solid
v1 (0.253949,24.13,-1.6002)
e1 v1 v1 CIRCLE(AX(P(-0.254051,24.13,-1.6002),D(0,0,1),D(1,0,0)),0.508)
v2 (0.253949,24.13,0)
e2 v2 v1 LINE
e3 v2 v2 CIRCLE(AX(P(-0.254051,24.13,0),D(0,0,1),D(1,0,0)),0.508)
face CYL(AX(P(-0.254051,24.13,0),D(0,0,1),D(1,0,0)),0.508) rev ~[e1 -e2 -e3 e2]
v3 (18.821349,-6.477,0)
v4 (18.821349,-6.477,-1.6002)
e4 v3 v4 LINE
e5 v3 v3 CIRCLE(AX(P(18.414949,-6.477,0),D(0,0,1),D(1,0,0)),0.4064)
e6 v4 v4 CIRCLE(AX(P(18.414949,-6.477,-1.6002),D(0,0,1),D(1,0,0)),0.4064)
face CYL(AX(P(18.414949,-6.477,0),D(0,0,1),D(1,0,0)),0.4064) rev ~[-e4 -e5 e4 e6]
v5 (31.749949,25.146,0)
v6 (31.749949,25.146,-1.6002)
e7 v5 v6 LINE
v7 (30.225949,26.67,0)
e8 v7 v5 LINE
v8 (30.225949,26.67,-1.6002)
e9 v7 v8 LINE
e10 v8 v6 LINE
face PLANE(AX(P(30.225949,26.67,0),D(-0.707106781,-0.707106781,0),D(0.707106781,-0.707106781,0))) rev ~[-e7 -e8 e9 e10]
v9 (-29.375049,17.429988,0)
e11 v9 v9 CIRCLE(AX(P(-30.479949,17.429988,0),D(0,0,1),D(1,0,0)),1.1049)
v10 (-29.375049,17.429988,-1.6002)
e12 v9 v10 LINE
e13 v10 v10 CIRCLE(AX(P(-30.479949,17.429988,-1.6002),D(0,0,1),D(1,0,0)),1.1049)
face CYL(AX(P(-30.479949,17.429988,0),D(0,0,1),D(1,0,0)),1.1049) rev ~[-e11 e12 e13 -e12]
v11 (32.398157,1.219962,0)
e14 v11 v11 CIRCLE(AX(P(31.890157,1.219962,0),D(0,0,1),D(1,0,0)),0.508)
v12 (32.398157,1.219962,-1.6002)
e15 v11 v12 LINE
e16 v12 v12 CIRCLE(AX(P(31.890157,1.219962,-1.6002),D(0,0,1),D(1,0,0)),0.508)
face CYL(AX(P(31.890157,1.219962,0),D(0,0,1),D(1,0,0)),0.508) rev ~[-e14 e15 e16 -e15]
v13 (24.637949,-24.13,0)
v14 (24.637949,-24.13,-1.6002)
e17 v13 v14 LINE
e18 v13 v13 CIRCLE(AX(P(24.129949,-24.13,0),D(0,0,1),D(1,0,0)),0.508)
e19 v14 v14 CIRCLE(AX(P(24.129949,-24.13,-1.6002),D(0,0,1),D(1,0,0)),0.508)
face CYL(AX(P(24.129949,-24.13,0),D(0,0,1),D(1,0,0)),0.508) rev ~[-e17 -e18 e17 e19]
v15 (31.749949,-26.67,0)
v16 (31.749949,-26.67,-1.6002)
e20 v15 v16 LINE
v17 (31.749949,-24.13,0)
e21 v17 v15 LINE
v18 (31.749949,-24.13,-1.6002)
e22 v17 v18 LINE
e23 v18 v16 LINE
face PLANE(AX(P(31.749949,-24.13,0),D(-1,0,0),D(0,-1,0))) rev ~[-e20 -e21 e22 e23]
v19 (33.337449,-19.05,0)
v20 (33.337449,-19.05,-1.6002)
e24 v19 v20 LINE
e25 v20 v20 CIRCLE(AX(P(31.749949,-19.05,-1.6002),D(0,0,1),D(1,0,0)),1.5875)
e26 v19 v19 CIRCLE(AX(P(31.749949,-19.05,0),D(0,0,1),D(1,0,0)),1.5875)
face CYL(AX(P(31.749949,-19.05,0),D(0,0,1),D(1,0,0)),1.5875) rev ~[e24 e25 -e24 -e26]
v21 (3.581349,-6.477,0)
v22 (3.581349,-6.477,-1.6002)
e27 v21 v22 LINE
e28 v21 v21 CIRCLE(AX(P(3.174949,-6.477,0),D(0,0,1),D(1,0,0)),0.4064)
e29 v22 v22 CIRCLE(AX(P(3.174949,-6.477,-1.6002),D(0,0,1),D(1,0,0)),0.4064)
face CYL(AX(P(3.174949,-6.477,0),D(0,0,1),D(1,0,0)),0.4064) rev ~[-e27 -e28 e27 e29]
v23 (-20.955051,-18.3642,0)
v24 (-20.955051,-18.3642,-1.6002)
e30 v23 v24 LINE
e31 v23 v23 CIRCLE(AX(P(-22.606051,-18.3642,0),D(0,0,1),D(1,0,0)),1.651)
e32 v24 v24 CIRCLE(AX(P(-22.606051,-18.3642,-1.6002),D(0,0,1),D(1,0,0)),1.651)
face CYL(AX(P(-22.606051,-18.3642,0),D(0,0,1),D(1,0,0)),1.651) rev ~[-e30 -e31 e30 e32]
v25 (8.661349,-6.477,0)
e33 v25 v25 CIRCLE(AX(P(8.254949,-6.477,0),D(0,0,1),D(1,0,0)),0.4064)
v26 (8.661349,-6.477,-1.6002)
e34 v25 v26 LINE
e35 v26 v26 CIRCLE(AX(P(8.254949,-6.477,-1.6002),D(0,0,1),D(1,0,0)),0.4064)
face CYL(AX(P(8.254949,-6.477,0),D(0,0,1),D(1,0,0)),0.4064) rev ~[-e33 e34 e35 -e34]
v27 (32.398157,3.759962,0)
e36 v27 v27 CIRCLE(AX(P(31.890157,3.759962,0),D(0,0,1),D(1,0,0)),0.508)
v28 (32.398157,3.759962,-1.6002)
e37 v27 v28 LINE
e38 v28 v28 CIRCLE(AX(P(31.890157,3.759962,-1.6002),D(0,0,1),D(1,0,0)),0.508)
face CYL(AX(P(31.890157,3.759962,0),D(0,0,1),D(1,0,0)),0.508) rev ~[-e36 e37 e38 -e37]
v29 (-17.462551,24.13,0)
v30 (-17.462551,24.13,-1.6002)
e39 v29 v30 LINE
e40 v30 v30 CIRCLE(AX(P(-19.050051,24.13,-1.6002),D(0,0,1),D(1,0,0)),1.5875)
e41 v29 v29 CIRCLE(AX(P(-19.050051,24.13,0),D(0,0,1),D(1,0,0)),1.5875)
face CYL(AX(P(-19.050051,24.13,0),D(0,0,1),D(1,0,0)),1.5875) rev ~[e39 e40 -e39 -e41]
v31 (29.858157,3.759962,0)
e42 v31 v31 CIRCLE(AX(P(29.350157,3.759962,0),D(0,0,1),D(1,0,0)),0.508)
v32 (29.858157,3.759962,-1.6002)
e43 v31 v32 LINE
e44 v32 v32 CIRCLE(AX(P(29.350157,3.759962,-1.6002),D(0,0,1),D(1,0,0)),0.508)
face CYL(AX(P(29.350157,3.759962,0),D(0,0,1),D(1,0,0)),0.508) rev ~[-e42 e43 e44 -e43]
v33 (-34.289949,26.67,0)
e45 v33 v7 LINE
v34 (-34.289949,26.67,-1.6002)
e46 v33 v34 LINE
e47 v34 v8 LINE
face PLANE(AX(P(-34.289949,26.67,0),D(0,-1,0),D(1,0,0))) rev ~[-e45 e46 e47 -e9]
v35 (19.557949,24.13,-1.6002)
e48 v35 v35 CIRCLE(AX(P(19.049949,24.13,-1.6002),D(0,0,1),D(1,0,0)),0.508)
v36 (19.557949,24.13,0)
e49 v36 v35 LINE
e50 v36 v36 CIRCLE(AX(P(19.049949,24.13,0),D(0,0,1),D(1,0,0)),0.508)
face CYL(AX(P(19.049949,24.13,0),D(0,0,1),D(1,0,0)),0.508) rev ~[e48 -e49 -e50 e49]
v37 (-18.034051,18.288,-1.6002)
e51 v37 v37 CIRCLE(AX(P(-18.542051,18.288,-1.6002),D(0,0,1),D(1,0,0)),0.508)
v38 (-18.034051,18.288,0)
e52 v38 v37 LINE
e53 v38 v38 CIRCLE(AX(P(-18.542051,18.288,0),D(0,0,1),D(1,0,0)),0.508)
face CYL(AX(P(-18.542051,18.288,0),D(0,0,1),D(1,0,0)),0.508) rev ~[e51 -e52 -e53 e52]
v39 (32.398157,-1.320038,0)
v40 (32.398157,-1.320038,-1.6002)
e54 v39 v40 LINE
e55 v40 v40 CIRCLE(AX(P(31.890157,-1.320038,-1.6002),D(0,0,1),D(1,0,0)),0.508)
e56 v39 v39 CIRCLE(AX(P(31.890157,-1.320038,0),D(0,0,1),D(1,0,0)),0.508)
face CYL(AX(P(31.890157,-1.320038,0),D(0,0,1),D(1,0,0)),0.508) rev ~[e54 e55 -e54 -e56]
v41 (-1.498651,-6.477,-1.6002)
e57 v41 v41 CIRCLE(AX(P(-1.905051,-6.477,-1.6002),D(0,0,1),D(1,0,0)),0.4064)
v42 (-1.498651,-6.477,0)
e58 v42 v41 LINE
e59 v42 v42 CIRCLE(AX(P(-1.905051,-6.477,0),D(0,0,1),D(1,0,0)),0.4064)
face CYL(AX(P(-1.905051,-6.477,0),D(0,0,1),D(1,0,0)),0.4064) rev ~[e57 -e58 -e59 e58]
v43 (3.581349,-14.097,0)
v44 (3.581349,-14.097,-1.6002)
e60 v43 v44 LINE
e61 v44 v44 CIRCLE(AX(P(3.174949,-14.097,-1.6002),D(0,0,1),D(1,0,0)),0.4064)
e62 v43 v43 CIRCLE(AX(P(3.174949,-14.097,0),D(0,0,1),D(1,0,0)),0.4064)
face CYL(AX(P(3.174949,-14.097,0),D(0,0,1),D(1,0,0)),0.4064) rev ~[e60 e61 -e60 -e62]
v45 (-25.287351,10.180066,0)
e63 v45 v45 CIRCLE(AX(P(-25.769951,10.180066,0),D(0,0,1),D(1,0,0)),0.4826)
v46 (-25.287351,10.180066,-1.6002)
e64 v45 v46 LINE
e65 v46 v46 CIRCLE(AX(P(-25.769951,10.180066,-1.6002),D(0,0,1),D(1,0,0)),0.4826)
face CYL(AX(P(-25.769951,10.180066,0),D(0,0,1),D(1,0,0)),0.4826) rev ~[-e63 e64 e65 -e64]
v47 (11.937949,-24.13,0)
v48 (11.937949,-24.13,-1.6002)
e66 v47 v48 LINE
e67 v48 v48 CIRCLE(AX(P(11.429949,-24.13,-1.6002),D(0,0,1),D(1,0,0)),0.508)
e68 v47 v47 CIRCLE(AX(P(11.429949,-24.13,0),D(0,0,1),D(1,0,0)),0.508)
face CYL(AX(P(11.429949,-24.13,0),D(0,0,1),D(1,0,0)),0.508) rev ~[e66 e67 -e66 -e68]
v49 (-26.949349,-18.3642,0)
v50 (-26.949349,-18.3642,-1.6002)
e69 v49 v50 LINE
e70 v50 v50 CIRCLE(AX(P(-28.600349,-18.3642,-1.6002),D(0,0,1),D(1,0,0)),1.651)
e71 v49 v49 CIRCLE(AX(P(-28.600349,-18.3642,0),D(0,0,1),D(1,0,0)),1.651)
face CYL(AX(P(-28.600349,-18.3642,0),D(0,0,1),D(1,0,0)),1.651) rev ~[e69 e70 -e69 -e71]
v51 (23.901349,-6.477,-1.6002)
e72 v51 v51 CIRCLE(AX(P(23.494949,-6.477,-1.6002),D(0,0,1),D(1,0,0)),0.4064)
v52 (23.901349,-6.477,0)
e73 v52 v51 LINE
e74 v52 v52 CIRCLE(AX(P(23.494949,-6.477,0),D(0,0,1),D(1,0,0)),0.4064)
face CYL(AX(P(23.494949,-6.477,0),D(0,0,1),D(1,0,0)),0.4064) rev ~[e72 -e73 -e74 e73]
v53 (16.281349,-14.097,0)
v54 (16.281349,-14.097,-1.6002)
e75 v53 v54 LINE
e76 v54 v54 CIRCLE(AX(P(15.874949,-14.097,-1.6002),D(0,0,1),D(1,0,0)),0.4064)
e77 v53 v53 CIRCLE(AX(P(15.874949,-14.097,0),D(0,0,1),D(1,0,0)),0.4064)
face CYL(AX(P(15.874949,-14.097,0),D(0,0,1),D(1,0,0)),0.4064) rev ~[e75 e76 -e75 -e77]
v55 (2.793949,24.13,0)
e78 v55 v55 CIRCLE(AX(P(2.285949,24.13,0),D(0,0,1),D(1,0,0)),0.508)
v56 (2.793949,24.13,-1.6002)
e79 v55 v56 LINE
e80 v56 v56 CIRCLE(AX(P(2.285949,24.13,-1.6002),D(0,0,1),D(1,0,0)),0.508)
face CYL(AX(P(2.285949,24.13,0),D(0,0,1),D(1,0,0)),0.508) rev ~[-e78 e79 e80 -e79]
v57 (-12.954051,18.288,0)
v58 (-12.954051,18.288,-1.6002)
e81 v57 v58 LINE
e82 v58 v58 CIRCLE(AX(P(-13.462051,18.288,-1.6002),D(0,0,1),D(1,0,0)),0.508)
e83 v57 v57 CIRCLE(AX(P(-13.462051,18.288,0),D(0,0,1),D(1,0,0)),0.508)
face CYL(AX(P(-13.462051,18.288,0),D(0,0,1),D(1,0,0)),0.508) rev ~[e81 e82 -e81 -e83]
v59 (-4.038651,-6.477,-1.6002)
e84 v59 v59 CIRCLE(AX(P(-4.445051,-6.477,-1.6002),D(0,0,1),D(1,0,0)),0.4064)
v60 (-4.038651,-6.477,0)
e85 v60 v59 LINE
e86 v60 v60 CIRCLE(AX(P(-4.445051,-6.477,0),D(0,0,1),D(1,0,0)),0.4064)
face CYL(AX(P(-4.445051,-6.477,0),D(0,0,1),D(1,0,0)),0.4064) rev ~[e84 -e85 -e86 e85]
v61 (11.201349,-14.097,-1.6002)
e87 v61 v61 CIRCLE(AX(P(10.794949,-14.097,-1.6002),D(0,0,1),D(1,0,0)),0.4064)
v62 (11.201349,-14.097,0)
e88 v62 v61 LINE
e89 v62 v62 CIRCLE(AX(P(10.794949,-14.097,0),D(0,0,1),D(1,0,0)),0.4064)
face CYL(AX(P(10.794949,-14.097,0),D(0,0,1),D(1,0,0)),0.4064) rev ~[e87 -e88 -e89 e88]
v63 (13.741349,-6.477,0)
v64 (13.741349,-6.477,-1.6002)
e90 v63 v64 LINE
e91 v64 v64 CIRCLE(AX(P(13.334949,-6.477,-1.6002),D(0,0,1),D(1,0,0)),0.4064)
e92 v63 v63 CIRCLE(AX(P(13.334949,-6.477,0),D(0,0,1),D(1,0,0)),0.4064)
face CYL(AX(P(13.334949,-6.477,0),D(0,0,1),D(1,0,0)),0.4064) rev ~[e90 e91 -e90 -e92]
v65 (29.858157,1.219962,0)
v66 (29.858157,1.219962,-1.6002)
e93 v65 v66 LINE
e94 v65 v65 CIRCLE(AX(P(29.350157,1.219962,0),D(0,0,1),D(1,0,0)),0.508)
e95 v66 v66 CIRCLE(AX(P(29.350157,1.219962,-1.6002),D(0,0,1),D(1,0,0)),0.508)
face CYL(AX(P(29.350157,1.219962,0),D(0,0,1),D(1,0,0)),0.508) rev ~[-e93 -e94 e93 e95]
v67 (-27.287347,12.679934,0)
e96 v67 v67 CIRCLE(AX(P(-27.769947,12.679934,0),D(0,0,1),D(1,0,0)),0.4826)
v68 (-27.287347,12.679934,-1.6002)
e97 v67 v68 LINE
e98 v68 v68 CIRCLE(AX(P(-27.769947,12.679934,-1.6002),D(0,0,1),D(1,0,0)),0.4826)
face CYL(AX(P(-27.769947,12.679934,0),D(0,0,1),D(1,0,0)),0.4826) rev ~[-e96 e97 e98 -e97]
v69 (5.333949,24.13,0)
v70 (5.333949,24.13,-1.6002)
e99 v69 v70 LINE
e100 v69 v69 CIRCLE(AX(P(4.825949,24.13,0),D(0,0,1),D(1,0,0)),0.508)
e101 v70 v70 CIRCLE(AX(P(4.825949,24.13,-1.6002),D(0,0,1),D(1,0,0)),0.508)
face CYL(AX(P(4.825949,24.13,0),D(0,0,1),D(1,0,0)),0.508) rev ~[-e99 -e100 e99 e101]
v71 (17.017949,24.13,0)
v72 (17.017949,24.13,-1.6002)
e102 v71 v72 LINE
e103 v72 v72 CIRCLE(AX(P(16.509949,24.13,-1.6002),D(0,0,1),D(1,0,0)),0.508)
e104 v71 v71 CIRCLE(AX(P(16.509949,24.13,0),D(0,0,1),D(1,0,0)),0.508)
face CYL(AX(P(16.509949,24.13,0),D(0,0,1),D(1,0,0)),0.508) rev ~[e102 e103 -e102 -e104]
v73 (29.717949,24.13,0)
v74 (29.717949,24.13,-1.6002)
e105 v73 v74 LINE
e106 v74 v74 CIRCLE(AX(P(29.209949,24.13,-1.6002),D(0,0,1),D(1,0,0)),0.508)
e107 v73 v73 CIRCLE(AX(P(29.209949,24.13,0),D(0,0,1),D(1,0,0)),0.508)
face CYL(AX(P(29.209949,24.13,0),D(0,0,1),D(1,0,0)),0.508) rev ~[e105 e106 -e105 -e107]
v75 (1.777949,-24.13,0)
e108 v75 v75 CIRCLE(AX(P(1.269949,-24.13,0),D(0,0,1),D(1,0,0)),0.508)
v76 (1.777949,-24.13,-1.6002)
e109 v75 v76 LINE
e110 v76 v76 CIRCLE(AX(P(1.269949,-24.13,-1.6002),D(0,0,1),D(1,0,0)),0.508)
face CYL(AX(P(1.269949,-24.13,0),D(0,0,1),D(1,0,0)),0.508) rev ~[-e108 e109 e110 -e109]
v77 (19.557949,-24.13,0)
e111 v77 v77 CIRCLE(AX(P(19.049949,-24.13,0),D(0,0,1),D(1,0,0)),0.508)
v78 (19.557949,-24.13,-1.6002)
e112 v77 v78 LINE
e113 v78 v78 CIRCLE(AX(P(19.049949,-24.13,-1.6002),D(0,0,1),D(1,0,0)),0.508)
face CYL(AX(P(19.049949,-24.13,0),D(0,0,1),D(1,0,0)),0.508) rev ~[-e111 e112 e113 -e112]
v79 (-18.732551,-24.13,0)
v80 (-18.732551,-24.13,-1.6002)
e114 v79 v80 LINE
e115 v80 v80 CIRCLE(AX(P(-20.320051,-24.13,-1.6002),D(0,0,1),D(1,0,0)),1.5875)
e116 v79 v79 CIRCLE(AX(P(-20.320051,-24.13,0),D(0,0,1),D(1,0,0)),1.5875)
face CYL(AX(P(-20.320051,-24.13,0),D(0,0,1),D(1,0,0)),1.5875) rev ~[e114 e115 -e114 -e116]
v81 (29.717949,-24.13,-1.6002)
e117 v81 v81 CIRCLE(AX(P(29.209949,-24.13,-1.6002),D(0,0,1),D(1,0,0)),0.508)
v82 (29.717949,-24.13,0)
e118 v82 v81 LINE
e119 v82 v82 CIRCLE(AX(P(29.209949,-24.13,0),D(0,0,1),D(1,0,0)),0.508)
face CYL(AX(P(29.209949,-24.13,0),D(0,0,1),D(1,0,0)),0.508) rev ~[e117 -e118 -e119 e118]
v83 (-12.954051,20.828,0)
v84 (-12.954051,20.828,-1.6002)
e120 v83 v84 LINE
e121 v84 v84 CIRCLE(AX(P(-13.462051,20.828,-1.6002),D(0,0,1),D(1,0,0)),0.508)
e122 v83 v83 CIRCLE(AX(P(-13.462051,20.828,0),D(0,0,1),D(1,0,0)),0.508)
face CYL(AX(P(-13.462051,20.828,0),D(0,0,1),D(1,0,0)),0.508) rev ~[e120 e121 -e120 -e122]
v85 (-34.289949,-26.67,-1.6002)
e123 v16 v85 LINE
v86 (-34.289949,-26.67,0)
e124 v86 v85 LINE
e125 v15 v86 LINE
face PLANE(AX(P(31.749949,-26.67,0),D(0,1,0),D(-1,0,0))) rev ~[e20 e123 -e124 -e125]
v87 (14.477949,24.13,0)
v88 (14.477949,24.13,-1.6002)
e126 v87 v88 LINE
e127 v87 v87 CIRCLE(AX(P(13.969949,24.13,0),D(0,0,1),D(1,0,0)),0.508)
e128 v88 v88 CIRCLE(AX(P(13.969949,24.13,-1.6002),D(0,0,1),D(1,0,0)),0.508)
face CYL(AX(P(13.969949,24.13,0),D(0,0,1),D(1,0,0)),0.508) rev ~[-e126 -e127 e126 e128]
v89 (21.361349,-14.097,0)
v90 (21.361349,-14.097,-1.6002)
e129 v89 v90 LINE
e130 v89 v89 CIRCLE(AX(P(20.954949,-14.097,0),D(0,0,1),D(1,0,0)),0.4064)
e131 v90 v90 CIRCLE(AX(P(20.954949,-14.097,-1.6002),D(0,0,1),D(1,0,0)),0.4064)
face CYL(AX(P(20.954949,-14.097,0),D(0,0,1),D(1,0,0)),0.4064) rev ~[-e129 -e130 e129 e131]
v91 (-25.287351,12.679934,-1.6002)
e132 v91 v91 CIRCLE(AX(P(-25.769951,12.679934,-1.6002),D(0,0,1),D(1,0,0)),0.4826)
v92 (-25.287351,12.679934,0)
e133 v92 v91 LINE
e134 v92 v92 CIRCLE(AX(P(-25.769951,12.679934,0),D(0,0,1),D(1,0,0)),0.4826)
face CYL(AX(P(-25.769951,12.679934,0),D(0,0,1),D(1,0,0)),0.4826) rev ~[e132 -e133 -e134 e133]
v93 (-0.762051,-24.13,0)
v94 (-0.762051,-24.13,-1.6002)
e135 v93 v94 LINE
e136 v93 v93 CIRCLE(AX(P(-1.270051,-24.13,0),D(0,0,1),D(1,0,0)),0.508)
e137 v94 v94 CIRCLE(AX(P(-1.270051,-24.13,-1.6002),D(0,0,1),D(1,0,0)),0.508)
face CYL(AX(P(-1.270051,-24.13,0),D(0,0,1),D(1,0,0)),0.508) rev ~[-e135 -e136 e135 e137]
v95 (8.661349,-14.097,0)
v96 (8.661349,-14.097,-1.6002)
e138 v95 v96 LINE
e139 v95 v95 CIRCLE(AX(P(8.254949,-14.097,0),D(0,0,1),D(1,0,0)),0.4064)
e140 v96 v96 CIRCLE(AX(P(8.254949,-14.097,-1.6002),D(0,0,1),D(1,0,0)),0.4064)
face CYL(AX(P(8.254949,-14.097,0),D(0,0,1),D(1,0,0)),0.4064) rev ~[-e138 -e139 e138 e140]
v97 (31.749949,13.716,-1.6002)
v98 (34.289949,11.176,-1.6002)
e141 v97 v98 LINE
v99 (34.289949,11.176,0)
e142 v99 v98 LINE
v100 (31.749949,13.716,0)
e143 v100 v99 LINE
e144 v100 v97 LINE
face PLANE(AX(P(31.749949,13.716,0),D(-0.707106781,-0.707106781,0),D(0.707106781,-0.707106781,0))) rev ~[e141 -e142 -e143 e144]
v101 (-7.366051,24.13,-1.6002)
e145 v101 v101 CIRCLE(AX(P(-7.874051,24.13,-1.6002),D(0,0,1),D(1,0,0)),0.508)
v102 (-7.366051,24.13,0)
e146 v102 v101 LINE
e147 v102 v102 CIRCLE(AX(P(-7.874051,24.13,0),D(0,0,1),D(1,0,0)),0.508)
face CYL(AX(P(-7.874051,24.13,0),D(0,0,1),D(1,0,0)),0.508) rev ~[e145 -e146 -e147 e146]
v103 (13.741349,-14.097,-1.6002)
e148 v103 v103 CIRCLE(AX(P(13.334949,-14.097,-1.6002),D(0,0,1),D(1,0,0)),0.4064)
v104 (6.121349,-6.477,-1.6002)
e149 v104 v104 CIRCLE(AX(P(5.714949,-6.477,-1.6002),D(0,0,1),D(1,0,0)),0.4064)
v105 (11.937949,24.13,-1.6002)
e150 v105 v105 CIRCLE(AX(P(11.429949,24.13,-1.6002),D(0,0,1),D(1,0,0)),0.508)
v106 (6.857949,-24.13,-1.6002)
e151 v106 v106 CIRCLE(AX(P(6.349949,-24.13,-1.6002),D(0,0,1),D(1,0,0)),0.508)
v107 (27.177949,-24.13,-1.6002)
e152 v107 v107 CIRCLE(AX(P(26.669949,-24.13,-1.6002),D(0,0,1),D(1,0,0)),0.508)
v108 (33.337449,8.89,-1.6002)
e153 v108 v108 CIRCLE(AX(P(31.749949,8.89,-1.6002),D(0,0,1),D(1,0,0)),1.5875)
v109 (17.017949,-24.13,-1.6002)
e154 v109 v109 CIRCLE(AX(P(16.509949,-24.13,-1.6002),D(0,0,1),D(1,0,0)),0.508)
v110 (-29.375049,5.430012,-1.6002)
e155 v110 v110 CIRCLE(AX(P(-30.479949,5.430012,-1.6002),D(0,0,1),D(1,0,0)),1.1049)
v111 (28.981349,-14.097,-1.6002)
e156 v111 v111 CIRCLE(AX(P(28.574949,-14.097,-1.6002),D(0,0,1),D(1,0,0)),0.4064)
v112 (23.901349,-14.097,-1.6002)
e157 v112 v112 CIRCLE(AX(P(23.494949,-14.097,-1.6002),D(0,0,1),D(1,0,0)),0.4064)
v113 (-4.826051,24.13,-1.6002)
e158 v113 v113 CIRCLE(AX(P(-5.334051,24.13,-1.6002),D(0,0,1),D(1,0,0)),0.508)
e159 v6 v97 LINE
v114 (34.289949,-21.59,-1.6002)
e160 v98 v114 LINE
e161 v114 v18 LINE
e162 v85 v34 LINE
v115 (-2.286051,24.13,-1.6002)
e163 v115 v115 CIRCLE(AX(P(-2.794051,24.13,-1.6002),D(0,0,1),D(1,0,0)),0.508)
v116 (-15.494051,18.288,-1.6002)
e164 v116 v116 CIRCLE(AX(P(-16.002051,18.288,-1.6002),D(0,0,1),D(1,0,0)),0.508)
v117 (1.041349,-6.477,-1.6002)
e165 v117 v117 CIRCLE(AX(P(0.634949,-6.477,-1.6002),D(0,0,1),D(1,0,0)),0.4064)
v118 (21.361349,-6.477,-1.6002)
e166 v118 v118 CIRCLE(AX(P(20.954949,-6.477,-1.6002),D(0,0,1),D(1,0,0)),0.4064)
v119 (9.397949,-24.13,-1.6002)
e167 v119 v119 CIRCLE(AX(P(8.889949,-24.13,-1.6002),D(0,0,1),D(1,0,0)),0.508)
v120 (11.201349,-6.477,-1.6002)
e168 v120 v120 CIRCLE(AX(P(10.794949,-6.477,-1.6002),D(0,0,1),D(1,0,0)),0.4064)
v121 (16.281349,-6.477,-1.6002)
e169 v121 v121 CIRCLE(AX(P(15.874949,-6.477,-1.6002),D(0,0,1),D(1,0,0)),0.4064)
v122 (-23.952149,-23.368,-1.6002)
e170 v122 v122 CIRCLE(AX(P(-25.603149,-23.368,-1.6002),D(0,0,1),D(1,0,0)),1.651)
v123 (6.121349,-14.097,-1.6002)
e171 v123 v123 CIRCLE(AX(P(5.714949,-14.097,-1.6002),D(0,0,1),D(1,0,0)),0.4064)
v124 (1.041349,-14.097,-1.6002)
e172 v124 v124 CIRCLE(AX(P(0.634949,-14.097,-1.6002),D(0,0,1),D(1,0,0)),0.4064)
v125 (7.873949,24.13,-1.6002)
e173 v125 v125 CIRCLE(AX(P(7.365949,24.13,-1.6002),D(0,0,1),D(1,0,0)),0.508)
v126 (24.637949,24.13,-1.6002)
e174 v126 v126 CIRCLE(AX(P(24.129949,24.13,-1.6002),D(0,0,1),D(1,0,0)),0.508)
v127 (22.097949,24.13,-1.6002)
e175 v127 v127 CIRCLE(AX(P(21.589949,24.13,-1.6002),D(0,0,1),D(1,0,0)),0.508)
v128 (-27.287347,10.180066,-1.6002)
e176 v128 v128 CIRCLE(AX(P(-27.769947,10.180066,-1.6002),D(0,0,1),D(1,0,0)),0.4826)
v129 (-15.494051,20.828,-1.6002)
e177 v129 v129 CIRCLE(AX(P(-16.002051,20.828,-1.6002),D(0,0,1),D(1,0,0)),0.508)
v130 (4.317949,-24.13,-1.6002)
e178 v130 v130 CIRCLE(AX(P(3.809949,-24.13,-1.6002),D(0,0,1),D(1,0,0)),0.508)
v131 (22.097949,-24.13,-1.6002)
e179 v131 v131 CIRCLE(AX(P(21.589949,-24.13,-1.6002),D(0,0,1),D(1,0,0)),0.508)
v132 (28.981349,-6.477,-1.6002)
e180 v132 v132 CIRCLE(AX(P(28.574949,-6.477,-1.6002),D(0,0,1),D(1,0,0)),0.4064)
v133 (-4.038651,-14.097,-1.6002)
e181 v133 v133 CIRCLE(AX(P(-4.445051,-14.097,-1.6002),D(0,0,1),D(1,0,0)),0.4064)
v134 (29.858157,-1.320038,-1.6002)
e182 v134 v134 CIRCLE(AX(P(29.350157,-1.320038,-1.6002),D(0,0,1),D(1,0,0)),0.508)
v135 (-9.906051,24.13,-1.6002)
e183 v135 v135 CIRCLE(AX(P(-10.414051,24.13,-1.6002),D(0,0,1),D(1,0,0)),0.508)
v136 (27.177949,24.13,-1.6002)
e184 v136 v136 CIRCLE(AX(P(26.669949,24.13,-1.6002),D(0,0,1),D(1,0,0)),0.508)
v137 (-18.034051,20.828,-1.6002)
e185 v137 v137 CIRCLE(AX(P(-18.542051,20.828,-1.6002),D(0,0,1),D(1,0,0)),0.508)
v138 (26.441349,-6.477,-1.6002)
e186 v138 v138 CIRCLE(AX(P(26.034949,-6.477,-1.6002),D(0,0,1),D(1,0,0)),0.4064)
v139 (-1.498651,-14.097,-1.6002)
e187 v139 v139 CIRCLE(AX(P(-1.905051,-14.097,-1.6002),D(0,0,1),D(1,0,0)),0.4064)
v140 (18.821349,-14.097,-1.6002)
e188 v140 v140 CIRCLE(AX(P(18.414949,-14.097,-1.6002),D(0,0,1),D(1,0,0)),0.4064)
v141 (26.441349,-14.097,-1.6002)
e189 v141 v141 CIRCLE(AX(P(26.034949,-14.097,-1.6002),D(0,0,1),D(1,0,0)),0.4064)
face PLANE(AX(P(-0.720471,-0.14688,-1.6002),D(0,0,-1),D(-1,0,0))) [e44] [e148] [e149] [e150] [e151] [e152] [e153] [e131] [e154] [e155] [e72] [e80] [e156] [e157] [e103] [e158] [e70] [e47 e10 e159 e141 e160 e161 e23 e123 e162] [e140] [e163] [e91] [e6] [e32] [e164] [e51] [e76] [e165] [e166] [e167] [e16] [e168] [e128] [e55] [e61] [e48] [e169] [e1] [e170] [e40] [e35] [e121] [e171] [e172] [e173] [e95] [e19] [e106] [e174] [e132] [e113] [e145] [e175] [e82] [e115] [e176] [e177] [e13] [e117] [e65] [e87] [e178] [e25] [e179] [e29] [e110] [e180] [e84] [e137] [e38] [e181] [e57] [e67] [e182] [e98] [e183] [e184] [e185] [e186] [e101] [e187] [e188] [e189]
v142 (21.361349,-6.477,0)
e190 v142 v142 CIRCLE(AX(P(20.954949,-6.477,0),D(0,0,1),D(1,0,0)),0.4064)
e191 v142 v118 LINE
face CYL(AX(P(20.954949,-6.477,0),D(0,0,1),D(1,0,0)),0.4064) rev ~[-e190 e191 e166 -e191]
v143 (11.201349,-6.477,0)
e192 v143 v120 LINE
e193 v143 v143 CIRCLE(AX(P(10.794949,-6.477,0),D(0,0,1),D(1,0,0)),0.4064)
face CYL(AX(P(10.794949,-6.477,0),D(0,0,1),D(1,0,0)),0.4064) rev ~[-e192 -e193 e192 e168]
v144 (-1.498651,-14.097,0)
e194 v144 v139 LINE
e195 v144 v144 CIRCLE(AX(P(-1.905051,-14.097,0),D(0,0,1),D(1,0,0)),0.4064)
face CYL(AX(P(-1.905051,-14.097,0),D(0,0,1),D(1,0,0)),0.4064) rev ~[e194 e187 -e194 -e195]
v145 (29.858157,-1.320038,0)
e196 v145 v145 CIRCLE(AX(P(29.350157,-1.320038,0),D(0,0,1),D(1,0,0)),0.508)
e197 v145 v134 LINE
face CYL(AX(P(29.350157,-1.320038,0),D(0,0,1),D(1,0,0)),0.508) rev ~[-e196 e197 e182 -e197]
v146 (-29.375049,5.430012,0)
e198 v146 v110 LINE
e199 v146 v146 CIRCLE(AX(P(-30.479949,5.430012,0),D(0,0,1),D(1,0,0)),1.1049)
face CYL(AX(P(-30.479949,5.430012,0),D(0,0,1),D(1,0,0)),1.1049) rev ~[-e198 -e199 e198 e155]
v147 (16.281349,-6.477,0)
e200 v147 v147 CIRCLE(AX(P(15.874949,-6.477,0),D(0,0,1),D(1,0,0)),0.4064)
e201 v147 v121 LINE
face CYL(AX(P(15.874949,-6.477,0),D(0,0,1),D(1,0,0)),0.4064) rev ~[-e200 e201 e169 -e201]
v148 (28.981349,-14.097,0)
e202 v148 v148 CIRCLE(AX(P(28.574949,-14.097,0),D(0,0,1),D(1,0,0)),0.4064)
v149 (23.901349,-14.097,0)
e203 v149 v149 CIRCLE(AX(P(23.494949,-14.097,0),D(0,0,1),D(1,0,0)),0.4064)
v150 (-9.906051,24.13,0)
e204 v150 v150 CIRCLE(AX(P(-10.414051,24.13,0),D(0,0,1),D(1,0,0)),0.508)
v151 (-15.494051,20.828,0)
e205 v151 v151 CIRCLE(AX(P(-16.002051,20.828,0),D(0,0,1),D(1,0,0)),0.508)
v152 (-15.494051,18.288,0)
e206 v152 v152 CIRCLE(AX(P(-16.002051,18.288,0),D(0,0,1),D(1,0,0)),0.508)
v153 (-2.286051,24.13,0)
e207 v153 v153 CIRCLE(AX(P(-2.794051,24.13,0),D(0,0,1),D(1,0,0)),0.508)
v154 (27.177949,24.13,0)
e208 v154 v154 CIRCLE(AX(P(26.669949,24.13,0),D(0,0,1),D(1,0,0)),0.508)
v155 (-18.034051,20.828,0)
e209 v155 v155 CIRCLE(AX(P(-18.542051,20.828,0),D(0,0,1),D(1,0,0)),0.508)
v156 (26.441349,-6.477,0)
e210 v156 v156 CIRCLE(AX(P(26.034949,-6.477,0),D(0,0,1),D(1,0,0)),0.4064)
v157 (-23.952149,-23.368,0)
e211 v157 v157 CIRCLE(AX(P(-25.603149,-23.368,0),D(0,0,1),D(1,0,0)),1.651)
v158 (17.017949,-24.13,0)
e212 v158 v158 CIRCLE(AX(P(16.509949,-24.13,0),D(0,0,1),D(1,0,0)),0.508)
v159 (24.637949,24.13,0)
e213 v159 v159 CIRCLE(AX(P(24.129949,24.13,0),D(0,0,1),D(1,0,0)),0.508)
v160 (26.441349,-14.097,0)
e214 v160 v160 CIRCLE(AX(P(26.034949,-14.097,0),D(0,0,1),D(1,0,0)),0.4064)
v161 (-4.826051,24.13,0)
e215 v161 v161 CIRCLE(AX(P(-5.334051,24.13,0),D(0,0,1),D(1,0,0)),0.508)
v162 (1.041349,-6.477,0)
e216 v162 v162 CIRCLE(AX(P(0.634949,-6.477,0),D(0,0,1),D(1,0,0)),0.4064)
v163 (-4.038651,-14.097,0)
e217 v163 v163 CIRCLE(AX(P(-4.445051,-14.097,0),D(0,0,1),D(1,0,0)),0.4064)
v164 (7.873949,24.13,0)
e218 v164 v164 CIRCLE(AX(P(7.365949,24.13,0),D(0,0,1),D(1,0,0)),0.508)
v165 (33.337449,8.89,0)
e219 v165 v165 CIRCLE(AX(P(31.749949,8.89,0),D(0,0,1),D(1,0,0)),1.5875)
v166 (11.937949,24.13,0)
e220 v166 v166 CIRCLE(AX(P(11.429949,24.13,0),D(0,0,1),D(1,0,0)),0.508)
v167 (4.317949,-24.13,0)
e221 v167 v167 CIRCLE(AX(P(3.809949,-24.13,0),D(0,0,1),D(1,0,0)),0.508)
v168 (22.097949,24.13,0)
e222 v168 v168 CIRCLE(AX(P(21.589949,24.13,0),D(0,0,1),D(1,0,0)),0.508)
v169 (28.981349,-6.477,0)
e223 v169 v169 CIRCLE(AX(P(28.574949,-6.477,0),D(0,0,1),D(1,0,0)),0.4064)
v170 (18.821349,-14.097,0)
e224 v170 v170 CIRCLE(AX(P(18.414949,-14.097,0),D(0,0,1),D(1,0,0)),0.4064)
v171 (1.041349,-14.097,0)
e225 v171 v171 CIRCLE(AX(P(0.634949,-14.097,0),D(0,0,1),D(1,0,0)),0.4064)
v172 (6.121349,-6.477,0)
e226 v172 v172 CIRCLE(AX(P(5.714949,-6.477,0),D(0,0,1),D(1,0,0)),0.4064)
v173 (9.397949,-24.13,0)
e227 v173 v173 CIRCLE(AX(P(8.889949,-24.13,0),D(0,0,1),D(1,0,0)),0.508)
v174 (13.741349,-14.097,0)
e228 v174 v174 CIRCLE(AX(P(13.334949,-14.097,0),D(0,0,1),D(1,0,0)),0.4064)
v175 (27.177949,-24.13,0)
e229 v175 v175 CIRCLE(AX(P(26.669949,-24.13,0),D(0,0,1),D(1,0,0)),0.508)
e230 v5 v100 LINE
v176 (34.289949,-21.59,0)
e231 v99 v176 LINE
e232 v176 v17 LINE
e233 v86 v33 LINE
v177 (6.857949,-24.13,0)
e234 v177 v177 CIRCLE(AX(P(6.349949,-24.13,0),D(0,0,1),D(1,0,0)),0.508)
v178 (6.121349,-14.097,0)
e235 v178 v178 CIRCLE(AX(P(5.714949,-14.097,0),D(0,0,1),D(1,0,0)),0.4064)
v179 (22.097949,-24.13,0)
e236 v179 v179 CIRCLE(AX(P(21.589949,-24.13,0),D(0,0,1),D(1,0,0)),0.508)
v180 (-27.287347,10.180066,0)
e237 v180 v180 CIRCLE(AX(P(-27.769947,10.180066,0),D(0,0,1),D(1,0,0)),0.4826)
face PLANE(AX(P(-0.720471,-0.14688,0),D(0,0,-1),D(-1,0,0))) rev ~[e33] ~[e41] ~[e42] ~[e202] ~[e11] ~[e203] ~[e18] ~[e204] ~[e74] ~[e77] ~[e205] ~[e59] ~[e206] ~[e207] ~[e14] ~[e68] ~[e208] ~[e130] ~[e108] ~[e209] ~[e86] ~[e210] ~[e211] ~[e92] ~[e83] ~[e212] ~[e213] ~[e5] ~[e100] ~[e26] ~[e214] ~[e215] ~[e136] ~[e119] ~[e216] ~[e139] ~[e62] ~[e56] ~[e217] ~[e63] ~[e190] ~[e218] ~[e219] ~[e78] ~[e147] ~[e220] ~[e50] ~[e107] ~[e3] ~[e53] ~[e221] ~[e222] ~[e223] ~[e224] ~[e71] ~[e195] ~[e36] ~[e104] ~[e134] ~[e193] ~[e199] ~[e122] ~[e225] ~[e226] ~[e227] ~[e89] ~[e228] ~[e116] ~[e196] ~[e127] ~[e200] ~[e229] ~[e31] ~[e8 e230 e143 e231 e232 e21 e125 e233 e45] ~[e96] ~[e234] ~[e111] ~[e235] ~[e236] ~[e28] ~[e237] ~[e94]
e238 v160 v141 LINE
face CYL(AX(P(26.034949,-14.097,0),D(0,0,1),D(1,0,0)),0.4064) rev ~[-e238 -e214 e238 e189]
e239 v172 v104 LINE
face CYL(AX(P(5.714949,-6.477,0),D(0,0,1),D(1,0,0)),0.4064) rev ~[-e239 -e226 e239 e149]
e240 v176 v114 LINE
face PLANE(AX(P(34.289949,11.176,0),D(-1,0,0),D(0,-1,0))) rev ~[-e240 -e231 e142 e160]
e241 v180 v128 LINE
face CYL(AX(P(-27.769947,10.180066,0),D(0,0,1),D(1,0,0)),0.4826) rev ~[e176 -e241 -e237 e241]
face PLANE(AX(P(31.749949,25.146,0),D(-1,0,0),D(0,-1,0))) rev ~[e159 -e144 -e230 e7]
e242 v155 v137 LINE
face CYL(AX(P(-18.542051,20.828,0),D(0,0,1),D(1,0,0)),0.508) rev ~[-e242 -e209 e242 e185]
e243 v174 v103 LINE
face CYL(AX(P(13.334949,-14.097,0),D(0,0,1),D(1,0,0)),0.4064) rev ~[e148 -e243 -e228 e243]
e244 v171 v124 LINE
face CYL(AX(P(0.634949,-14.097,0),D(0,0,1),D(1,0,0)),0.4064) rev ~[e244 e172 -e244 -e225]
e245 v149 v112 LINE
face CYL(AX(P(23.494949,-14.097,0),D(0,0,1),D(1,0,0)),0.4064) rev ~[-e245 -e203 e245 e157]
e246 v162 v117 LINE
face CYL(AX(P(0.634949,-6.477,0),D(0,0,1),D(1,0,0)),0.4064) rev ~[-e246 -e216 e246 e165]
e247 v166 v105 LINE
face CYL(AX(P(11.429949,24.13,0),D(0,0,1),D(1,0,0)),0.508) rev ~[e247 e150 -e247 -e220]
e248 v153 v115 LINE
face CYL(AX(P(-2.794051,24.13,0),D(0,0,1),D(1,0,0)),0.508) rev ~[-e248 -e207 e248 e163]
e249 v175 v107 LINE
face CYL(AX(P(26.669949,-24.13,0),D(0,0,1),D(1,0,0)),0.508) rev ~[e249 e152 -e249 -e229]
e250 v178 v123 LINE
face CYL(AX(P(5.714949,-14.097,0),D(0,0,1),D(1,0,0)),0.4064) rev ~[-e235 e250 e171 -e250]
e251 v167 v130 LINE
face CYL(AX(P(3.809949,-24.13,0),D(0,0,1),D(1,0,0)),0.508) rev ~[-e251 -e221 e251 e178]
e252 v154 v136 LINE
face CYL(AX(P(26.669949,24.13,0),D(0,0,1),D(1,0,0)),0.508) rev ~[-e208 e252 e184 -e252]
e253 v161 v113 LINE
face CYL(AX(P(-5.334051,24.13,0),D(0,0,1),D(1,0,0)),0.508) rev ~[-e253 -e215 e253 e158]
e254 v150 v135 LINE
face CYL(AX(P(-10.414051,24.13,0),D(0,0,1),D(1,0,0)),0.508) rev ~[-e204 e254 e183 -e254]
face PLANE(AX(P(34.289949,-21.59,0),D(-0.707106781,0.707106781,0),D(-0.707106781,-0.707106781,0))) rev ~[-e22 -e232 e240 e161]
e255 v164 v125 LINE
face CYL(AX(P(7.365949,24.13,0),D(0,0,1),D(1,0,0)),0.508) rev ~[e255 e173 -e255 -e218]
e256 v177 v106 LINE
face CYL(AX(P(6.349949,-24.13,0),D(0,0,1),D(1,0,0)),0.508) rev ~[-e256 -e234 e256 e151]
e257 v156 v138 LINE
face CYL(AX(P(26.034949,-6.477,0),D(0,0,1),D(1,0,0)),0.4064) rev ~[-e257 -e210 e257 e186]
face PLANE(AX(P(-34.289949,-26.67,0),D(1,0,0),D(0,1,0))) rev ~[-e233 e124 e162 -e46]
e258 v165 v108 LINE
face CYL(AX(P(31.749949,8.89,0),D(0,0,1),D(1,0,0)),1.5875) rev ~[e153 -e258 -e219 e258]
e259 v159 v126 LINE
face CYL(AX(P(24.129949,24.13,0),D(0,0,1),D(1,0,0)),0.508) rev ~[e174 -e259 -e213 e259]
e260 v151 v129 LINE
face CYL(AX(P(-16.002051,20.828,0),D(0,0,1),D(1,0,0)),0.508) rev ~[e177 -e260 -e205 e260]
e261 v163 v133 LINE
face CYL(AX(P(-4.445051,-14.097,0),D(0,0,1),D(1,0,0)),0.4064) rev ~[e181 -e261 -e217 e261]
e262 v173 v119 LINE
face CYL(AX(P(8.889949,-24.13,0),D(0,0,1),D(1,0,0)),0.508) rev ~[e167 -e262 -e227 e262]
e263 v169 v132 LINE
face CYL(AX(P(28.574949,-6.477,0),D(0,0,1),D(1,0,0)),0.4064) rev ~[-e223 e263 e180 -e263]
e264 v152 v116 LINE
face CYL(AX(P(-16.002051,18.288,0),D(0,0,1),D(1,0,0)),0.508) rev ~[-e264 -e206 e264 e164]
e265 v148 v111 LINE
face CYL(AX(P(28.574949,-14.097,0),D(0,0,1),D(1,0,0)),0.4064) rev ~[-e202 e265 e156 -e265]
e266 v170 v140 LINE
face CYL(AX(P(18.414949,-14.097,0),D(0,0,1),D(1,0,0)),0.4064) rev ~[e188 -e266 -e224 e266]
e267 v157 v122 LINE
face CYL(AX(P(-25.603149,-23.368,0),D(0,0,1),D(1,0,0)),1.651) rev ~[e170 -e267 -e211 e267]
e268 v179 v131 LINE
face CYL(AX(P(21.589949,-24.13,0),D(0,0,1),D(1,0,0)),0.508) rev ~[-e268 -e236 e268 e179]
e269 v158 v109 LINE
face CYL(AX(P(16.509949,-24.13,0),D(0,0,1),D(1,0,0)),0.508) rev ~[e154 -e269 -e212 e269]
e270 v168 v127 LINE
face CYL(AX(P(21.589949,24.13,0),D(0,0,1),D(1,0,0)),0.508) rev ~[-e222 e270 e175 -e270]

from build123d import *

# Parameters (mm, degrees)
BOSS_EXTRUDE1_DEPTH = 1.6002
SKETCH3_R           = 1.1049
SKETCH3_R_2         = 1.651
SKETCH3_R_3         = 1.5875
SKETCH3_R_4         = 0.4826
CUT_EXTRUDE1_DEPTH  = 2.6002
SKETCH4_R           = 0.508
SKETCH4_R_2         = 0.4064
CUT_EXTRUDE2_DEPTH  = 2.6002


with BuildPart() as part:
    # Sketch2 → Boss-Extrude1 (new body)
    with BuildSketch(Plane.XY):
        Polygon((-34.2899492, 26.67), (30.2259492, 26.67), (31.7499492, 25.146), (31.7499492, 13.716), (34.2899492, 11.176), (34.2899492, -21.59), (31.7499492, -24.13), (31.7499492, -26.67), (-34.2899492, -26.67), align=None)
    extrude(amount=-BOSS_EXTRUDE1_DEPTH)

    # Sketch3 → Cut-Extrude1 (cut, through all)
    with BuildSketch(Plane.XY):
        with Locations((-30.4799492, 17.429988)):
            Circle(SKETCH3_R)
        with Locations((-30.4799492, 5.430012)):
            Circle(SKETCH3_R)
        with Locations((-28.6003492, -18.3642)):
            Circle(SKETCH3_R_2)
        with Locations((-25.6031492, -23.368)):
            Circle(SKETCH3_R_2)
        with Locations((-22.6060508, -18.3642)):
            Circle(SKETCH3_R_2)
        with Locations((31.7499492, -19.05)):
            Circle(SKETCH3_R_3)
        with Locations((31.7499492, 8.89)):
            Circle(SKETCH3_R_3)
        with Locations((-19.0500508, 24.13)):
            Circle(SKETCH3_R_3)
        with Locations((-25.769951, 12.679934)):
            Circle(SKETCH3_R_4)
        with Locations((-27.769947, 12.679934)):
            Circle(SKETCH3_R_4)
        with Locations((-27.769947, 10.180066)):
            Circle(SKETCH3_R_4)
        with Locations((-25.769951, 10.180066)):
            Circle(SKETCH3_R_4)
        with Locations((-20.3200508, -24.13)):
            Circle(SKETCH3_R_3)
    extrude(amount=-CUT_EXTRUDE1_DEPTH, mode=Mode.SUBTRACT)

    # Sketch4 → Cut-Extrude2 (cut, through all)
    with BuildSketch(Plane.XY):
        with Locations((29.2099492, 24.13)):
            Circle(SKETCH4_R)
        with Locations((26.6699492, 24.13)):
            Circle(SKETCH4_R)
        with Locations((24.1299492, 24.13)):
            Circle(SKETCH4_R)
        with Locations((21.5899492, 24.13)):
            Circle(SKETCH4_R)
        with Locations((19.0499492, 24.13)):
            Circle(SKETCH4_R)
        with Locations((16.5099492, 24.13)):
            Circle(SKETCH4_R)
        with Locations((13.9699492, 24.13)):
            Circle(SKETCH4_R)
        with Locations((11.4299492, 24.13)):
            Circle(SKETCH4_R)
        with Locations((7.3659492, 24.13)):
            Circle(SKETCH4_R)
        with Locations((4.8259492, 24.13)):
            Circle(SKETCH4_R)
        with Locations((2.2859492, 24.13)):
            Circle(SKETCH4_R)
        with Locations((-0.2540508, 24.13)):
            Circle(SKETCH4_R)
        with Locations((-2.7940508, 24.13)):
            Circle(SKETCH4_R)
        with Locations((-5.3340508, 24.13)):
            Circle(SKETCH4_R)
        with Locations((-7.8740508, 24.13)):
            Circle(SKETCH4_R)
        with Locations((-10.4140508, 24.13)):
            Circle(SKETCH4_R)
        with Locations((28.5749492, -6.477)):
            Circle(SKETCH4_R_2)
        with Locations((26.0349492, -6.477)):
            Circle(SKETCH4_R_2)
        with Locations((23.4949492, -6.477)):
            Circle(SKETCH4_R_2)
        with Locations((20.9549492, -6.477)):
            Circle(SKETCH4_R_2)
        with Locations((18.4149492, -6.477)):
            Circle(SKETCH4_R_2)
        with Locations((15.8749492, -6.477)):
            Circle(SKETCH4_R_2)
        with Locations((13.3349492, -6.477)):
            Circle(SKETCH4_R_2)
        with Locations((10.7949492, -6.477)):
            Circle(SKETCH4_R_2)
        with Locations((8.2549492, -6.477)):
            Circle(SKETCH4_R_2)
        with Locations((5.7149492, -6.477)):
            Circle(SKETCH4_R_2)
        with Locations((3.1749492, -6.477)):
            Circle(SKETCH4_R_2)
        with Locations((0.6349492, -6.477)):
            Circle(SKETCH4_R_2)
        with Locations((-1.9050508, -6.477)):
            Circle(SKETCH4_R_2)
        with Locations((-4.4450508, -6.477)):
            Circle(SKETCH4_R_2)
        with Locations((28.5749492, -14.097)):
            Circle(SKETCH4_R_2)
        with Locations((26.0349492, -14.097)):
            Circle(SKETCH4_R_2)
        with Locations((23.4949492, -14.097)):
            Circle(SKETCH4_R_2)
        with Locations((20.9549492, -14.097)):
            Circle(SKETCH4_R_2)
        with Locations((18.4149492, -14.097)):
            Circle(SKETCH4_R_2)
        with Locations((15.8749492, -14.097)):
            Circle(SKETCH4_R_2)
        with Locations((13.3349492, -14.097)):
            Circle(SKETCH4_R_2)
        with Locations((10.7949492, -14.097)):
            Circle(SKETCH4_R_2)
        with Locations((8.2549492, -14.097)):
            Circle(SKETCH4_R_2)
        with Locations((5.7149492, -14.097)):
            Circle(SKETCH4_R_2)
        with Locations((3.1749492, -14.097)):
            Circle(SKETCH4_R_2)
        with Locations((0.6349492, -14.097)):
            Circle(SKETCH4_R_2)
        with Locations((-1.9050508, -14.097)):
            Circle(SKETCH4_R_2)
        with Locations((-4.4450508, -14.097)):
            Circle(SKETCH4_R_2)
        with Locations((29.2099492, -24.13)):
            Circle(SKETCH4_R)
        with Locations((11.4299492, -24.13)):
            Circle(SKETCH4_R)
        with Locations((26.6699492, -24.13)):
            Circle(SKETCH4_R)
        with Locations((8.8899492, -24.13)):
            Circle(SKETCH4_R)
        with Locations((24.1299492, -24.13)):
            Circle(SKETCH4_R)
        with Locations((6.3499492, -24.13)):
            Circle(SKETCH4_R)
        with Locations((21.5899492, -24.13)):
            Circle(SKETCH4_R)
        with Locations((3.8099492, -24.13)):
            Circle(SKETCH4_R)
        with Locations((19.0499492, -24.13)):
            Circle(SKETCH4_R)
        with Locations((1.2699492, -24.13)):
            Circle(SKETCH4_R)
        with Locations((16.5099492, -24.13)):
            Circle(SKETCH4_R)
        with Locations((-1.2700508, -24.13)):
            Circle(SKETCH4_R)
        with Locations((-13.4620508, 20.828)):
            Circle(SKETCH4_R)
        with Locations((-13.4620508, 18.288)):
            Circle(SKETCH4_R)
        with Locations((-16.0020508, 18.288)):
            Circle(SKETCH4_R)
        with Locations((-16.0020508, 20.828)):
            Circle(SKETCH4_R)
        with Locations((-18.5420508, 18.288)):
            Circle(SKETCH4_R)
        with Locations((-18.5420508, 20.828)):
            Circle(SKETCH4_R)
        with Locations((31.8901572, -1.320038)):
            Circle(SKETCH4_R)
        with Locations((29.3501572, -1.320038)):
            Circle(SKETCH4_R)
        with Locations((29.3501572, 1.219962)):
            Circle(SKETCH4_R)
        with Locations((31.8901572, 1.219962)):
            Circle(SKETCH4_R)
        with Locations((29.3501572, 3.759962)):
            Circle(SKETCH4_R)
        with Locations((31.8901572, 3.759962)):
            Circle(SKETCH4_R)
    extrude(amount=-CUT_EXTRUDE2_DEPTH, mode=Mode.SUBTRACT)


solid = part.part
